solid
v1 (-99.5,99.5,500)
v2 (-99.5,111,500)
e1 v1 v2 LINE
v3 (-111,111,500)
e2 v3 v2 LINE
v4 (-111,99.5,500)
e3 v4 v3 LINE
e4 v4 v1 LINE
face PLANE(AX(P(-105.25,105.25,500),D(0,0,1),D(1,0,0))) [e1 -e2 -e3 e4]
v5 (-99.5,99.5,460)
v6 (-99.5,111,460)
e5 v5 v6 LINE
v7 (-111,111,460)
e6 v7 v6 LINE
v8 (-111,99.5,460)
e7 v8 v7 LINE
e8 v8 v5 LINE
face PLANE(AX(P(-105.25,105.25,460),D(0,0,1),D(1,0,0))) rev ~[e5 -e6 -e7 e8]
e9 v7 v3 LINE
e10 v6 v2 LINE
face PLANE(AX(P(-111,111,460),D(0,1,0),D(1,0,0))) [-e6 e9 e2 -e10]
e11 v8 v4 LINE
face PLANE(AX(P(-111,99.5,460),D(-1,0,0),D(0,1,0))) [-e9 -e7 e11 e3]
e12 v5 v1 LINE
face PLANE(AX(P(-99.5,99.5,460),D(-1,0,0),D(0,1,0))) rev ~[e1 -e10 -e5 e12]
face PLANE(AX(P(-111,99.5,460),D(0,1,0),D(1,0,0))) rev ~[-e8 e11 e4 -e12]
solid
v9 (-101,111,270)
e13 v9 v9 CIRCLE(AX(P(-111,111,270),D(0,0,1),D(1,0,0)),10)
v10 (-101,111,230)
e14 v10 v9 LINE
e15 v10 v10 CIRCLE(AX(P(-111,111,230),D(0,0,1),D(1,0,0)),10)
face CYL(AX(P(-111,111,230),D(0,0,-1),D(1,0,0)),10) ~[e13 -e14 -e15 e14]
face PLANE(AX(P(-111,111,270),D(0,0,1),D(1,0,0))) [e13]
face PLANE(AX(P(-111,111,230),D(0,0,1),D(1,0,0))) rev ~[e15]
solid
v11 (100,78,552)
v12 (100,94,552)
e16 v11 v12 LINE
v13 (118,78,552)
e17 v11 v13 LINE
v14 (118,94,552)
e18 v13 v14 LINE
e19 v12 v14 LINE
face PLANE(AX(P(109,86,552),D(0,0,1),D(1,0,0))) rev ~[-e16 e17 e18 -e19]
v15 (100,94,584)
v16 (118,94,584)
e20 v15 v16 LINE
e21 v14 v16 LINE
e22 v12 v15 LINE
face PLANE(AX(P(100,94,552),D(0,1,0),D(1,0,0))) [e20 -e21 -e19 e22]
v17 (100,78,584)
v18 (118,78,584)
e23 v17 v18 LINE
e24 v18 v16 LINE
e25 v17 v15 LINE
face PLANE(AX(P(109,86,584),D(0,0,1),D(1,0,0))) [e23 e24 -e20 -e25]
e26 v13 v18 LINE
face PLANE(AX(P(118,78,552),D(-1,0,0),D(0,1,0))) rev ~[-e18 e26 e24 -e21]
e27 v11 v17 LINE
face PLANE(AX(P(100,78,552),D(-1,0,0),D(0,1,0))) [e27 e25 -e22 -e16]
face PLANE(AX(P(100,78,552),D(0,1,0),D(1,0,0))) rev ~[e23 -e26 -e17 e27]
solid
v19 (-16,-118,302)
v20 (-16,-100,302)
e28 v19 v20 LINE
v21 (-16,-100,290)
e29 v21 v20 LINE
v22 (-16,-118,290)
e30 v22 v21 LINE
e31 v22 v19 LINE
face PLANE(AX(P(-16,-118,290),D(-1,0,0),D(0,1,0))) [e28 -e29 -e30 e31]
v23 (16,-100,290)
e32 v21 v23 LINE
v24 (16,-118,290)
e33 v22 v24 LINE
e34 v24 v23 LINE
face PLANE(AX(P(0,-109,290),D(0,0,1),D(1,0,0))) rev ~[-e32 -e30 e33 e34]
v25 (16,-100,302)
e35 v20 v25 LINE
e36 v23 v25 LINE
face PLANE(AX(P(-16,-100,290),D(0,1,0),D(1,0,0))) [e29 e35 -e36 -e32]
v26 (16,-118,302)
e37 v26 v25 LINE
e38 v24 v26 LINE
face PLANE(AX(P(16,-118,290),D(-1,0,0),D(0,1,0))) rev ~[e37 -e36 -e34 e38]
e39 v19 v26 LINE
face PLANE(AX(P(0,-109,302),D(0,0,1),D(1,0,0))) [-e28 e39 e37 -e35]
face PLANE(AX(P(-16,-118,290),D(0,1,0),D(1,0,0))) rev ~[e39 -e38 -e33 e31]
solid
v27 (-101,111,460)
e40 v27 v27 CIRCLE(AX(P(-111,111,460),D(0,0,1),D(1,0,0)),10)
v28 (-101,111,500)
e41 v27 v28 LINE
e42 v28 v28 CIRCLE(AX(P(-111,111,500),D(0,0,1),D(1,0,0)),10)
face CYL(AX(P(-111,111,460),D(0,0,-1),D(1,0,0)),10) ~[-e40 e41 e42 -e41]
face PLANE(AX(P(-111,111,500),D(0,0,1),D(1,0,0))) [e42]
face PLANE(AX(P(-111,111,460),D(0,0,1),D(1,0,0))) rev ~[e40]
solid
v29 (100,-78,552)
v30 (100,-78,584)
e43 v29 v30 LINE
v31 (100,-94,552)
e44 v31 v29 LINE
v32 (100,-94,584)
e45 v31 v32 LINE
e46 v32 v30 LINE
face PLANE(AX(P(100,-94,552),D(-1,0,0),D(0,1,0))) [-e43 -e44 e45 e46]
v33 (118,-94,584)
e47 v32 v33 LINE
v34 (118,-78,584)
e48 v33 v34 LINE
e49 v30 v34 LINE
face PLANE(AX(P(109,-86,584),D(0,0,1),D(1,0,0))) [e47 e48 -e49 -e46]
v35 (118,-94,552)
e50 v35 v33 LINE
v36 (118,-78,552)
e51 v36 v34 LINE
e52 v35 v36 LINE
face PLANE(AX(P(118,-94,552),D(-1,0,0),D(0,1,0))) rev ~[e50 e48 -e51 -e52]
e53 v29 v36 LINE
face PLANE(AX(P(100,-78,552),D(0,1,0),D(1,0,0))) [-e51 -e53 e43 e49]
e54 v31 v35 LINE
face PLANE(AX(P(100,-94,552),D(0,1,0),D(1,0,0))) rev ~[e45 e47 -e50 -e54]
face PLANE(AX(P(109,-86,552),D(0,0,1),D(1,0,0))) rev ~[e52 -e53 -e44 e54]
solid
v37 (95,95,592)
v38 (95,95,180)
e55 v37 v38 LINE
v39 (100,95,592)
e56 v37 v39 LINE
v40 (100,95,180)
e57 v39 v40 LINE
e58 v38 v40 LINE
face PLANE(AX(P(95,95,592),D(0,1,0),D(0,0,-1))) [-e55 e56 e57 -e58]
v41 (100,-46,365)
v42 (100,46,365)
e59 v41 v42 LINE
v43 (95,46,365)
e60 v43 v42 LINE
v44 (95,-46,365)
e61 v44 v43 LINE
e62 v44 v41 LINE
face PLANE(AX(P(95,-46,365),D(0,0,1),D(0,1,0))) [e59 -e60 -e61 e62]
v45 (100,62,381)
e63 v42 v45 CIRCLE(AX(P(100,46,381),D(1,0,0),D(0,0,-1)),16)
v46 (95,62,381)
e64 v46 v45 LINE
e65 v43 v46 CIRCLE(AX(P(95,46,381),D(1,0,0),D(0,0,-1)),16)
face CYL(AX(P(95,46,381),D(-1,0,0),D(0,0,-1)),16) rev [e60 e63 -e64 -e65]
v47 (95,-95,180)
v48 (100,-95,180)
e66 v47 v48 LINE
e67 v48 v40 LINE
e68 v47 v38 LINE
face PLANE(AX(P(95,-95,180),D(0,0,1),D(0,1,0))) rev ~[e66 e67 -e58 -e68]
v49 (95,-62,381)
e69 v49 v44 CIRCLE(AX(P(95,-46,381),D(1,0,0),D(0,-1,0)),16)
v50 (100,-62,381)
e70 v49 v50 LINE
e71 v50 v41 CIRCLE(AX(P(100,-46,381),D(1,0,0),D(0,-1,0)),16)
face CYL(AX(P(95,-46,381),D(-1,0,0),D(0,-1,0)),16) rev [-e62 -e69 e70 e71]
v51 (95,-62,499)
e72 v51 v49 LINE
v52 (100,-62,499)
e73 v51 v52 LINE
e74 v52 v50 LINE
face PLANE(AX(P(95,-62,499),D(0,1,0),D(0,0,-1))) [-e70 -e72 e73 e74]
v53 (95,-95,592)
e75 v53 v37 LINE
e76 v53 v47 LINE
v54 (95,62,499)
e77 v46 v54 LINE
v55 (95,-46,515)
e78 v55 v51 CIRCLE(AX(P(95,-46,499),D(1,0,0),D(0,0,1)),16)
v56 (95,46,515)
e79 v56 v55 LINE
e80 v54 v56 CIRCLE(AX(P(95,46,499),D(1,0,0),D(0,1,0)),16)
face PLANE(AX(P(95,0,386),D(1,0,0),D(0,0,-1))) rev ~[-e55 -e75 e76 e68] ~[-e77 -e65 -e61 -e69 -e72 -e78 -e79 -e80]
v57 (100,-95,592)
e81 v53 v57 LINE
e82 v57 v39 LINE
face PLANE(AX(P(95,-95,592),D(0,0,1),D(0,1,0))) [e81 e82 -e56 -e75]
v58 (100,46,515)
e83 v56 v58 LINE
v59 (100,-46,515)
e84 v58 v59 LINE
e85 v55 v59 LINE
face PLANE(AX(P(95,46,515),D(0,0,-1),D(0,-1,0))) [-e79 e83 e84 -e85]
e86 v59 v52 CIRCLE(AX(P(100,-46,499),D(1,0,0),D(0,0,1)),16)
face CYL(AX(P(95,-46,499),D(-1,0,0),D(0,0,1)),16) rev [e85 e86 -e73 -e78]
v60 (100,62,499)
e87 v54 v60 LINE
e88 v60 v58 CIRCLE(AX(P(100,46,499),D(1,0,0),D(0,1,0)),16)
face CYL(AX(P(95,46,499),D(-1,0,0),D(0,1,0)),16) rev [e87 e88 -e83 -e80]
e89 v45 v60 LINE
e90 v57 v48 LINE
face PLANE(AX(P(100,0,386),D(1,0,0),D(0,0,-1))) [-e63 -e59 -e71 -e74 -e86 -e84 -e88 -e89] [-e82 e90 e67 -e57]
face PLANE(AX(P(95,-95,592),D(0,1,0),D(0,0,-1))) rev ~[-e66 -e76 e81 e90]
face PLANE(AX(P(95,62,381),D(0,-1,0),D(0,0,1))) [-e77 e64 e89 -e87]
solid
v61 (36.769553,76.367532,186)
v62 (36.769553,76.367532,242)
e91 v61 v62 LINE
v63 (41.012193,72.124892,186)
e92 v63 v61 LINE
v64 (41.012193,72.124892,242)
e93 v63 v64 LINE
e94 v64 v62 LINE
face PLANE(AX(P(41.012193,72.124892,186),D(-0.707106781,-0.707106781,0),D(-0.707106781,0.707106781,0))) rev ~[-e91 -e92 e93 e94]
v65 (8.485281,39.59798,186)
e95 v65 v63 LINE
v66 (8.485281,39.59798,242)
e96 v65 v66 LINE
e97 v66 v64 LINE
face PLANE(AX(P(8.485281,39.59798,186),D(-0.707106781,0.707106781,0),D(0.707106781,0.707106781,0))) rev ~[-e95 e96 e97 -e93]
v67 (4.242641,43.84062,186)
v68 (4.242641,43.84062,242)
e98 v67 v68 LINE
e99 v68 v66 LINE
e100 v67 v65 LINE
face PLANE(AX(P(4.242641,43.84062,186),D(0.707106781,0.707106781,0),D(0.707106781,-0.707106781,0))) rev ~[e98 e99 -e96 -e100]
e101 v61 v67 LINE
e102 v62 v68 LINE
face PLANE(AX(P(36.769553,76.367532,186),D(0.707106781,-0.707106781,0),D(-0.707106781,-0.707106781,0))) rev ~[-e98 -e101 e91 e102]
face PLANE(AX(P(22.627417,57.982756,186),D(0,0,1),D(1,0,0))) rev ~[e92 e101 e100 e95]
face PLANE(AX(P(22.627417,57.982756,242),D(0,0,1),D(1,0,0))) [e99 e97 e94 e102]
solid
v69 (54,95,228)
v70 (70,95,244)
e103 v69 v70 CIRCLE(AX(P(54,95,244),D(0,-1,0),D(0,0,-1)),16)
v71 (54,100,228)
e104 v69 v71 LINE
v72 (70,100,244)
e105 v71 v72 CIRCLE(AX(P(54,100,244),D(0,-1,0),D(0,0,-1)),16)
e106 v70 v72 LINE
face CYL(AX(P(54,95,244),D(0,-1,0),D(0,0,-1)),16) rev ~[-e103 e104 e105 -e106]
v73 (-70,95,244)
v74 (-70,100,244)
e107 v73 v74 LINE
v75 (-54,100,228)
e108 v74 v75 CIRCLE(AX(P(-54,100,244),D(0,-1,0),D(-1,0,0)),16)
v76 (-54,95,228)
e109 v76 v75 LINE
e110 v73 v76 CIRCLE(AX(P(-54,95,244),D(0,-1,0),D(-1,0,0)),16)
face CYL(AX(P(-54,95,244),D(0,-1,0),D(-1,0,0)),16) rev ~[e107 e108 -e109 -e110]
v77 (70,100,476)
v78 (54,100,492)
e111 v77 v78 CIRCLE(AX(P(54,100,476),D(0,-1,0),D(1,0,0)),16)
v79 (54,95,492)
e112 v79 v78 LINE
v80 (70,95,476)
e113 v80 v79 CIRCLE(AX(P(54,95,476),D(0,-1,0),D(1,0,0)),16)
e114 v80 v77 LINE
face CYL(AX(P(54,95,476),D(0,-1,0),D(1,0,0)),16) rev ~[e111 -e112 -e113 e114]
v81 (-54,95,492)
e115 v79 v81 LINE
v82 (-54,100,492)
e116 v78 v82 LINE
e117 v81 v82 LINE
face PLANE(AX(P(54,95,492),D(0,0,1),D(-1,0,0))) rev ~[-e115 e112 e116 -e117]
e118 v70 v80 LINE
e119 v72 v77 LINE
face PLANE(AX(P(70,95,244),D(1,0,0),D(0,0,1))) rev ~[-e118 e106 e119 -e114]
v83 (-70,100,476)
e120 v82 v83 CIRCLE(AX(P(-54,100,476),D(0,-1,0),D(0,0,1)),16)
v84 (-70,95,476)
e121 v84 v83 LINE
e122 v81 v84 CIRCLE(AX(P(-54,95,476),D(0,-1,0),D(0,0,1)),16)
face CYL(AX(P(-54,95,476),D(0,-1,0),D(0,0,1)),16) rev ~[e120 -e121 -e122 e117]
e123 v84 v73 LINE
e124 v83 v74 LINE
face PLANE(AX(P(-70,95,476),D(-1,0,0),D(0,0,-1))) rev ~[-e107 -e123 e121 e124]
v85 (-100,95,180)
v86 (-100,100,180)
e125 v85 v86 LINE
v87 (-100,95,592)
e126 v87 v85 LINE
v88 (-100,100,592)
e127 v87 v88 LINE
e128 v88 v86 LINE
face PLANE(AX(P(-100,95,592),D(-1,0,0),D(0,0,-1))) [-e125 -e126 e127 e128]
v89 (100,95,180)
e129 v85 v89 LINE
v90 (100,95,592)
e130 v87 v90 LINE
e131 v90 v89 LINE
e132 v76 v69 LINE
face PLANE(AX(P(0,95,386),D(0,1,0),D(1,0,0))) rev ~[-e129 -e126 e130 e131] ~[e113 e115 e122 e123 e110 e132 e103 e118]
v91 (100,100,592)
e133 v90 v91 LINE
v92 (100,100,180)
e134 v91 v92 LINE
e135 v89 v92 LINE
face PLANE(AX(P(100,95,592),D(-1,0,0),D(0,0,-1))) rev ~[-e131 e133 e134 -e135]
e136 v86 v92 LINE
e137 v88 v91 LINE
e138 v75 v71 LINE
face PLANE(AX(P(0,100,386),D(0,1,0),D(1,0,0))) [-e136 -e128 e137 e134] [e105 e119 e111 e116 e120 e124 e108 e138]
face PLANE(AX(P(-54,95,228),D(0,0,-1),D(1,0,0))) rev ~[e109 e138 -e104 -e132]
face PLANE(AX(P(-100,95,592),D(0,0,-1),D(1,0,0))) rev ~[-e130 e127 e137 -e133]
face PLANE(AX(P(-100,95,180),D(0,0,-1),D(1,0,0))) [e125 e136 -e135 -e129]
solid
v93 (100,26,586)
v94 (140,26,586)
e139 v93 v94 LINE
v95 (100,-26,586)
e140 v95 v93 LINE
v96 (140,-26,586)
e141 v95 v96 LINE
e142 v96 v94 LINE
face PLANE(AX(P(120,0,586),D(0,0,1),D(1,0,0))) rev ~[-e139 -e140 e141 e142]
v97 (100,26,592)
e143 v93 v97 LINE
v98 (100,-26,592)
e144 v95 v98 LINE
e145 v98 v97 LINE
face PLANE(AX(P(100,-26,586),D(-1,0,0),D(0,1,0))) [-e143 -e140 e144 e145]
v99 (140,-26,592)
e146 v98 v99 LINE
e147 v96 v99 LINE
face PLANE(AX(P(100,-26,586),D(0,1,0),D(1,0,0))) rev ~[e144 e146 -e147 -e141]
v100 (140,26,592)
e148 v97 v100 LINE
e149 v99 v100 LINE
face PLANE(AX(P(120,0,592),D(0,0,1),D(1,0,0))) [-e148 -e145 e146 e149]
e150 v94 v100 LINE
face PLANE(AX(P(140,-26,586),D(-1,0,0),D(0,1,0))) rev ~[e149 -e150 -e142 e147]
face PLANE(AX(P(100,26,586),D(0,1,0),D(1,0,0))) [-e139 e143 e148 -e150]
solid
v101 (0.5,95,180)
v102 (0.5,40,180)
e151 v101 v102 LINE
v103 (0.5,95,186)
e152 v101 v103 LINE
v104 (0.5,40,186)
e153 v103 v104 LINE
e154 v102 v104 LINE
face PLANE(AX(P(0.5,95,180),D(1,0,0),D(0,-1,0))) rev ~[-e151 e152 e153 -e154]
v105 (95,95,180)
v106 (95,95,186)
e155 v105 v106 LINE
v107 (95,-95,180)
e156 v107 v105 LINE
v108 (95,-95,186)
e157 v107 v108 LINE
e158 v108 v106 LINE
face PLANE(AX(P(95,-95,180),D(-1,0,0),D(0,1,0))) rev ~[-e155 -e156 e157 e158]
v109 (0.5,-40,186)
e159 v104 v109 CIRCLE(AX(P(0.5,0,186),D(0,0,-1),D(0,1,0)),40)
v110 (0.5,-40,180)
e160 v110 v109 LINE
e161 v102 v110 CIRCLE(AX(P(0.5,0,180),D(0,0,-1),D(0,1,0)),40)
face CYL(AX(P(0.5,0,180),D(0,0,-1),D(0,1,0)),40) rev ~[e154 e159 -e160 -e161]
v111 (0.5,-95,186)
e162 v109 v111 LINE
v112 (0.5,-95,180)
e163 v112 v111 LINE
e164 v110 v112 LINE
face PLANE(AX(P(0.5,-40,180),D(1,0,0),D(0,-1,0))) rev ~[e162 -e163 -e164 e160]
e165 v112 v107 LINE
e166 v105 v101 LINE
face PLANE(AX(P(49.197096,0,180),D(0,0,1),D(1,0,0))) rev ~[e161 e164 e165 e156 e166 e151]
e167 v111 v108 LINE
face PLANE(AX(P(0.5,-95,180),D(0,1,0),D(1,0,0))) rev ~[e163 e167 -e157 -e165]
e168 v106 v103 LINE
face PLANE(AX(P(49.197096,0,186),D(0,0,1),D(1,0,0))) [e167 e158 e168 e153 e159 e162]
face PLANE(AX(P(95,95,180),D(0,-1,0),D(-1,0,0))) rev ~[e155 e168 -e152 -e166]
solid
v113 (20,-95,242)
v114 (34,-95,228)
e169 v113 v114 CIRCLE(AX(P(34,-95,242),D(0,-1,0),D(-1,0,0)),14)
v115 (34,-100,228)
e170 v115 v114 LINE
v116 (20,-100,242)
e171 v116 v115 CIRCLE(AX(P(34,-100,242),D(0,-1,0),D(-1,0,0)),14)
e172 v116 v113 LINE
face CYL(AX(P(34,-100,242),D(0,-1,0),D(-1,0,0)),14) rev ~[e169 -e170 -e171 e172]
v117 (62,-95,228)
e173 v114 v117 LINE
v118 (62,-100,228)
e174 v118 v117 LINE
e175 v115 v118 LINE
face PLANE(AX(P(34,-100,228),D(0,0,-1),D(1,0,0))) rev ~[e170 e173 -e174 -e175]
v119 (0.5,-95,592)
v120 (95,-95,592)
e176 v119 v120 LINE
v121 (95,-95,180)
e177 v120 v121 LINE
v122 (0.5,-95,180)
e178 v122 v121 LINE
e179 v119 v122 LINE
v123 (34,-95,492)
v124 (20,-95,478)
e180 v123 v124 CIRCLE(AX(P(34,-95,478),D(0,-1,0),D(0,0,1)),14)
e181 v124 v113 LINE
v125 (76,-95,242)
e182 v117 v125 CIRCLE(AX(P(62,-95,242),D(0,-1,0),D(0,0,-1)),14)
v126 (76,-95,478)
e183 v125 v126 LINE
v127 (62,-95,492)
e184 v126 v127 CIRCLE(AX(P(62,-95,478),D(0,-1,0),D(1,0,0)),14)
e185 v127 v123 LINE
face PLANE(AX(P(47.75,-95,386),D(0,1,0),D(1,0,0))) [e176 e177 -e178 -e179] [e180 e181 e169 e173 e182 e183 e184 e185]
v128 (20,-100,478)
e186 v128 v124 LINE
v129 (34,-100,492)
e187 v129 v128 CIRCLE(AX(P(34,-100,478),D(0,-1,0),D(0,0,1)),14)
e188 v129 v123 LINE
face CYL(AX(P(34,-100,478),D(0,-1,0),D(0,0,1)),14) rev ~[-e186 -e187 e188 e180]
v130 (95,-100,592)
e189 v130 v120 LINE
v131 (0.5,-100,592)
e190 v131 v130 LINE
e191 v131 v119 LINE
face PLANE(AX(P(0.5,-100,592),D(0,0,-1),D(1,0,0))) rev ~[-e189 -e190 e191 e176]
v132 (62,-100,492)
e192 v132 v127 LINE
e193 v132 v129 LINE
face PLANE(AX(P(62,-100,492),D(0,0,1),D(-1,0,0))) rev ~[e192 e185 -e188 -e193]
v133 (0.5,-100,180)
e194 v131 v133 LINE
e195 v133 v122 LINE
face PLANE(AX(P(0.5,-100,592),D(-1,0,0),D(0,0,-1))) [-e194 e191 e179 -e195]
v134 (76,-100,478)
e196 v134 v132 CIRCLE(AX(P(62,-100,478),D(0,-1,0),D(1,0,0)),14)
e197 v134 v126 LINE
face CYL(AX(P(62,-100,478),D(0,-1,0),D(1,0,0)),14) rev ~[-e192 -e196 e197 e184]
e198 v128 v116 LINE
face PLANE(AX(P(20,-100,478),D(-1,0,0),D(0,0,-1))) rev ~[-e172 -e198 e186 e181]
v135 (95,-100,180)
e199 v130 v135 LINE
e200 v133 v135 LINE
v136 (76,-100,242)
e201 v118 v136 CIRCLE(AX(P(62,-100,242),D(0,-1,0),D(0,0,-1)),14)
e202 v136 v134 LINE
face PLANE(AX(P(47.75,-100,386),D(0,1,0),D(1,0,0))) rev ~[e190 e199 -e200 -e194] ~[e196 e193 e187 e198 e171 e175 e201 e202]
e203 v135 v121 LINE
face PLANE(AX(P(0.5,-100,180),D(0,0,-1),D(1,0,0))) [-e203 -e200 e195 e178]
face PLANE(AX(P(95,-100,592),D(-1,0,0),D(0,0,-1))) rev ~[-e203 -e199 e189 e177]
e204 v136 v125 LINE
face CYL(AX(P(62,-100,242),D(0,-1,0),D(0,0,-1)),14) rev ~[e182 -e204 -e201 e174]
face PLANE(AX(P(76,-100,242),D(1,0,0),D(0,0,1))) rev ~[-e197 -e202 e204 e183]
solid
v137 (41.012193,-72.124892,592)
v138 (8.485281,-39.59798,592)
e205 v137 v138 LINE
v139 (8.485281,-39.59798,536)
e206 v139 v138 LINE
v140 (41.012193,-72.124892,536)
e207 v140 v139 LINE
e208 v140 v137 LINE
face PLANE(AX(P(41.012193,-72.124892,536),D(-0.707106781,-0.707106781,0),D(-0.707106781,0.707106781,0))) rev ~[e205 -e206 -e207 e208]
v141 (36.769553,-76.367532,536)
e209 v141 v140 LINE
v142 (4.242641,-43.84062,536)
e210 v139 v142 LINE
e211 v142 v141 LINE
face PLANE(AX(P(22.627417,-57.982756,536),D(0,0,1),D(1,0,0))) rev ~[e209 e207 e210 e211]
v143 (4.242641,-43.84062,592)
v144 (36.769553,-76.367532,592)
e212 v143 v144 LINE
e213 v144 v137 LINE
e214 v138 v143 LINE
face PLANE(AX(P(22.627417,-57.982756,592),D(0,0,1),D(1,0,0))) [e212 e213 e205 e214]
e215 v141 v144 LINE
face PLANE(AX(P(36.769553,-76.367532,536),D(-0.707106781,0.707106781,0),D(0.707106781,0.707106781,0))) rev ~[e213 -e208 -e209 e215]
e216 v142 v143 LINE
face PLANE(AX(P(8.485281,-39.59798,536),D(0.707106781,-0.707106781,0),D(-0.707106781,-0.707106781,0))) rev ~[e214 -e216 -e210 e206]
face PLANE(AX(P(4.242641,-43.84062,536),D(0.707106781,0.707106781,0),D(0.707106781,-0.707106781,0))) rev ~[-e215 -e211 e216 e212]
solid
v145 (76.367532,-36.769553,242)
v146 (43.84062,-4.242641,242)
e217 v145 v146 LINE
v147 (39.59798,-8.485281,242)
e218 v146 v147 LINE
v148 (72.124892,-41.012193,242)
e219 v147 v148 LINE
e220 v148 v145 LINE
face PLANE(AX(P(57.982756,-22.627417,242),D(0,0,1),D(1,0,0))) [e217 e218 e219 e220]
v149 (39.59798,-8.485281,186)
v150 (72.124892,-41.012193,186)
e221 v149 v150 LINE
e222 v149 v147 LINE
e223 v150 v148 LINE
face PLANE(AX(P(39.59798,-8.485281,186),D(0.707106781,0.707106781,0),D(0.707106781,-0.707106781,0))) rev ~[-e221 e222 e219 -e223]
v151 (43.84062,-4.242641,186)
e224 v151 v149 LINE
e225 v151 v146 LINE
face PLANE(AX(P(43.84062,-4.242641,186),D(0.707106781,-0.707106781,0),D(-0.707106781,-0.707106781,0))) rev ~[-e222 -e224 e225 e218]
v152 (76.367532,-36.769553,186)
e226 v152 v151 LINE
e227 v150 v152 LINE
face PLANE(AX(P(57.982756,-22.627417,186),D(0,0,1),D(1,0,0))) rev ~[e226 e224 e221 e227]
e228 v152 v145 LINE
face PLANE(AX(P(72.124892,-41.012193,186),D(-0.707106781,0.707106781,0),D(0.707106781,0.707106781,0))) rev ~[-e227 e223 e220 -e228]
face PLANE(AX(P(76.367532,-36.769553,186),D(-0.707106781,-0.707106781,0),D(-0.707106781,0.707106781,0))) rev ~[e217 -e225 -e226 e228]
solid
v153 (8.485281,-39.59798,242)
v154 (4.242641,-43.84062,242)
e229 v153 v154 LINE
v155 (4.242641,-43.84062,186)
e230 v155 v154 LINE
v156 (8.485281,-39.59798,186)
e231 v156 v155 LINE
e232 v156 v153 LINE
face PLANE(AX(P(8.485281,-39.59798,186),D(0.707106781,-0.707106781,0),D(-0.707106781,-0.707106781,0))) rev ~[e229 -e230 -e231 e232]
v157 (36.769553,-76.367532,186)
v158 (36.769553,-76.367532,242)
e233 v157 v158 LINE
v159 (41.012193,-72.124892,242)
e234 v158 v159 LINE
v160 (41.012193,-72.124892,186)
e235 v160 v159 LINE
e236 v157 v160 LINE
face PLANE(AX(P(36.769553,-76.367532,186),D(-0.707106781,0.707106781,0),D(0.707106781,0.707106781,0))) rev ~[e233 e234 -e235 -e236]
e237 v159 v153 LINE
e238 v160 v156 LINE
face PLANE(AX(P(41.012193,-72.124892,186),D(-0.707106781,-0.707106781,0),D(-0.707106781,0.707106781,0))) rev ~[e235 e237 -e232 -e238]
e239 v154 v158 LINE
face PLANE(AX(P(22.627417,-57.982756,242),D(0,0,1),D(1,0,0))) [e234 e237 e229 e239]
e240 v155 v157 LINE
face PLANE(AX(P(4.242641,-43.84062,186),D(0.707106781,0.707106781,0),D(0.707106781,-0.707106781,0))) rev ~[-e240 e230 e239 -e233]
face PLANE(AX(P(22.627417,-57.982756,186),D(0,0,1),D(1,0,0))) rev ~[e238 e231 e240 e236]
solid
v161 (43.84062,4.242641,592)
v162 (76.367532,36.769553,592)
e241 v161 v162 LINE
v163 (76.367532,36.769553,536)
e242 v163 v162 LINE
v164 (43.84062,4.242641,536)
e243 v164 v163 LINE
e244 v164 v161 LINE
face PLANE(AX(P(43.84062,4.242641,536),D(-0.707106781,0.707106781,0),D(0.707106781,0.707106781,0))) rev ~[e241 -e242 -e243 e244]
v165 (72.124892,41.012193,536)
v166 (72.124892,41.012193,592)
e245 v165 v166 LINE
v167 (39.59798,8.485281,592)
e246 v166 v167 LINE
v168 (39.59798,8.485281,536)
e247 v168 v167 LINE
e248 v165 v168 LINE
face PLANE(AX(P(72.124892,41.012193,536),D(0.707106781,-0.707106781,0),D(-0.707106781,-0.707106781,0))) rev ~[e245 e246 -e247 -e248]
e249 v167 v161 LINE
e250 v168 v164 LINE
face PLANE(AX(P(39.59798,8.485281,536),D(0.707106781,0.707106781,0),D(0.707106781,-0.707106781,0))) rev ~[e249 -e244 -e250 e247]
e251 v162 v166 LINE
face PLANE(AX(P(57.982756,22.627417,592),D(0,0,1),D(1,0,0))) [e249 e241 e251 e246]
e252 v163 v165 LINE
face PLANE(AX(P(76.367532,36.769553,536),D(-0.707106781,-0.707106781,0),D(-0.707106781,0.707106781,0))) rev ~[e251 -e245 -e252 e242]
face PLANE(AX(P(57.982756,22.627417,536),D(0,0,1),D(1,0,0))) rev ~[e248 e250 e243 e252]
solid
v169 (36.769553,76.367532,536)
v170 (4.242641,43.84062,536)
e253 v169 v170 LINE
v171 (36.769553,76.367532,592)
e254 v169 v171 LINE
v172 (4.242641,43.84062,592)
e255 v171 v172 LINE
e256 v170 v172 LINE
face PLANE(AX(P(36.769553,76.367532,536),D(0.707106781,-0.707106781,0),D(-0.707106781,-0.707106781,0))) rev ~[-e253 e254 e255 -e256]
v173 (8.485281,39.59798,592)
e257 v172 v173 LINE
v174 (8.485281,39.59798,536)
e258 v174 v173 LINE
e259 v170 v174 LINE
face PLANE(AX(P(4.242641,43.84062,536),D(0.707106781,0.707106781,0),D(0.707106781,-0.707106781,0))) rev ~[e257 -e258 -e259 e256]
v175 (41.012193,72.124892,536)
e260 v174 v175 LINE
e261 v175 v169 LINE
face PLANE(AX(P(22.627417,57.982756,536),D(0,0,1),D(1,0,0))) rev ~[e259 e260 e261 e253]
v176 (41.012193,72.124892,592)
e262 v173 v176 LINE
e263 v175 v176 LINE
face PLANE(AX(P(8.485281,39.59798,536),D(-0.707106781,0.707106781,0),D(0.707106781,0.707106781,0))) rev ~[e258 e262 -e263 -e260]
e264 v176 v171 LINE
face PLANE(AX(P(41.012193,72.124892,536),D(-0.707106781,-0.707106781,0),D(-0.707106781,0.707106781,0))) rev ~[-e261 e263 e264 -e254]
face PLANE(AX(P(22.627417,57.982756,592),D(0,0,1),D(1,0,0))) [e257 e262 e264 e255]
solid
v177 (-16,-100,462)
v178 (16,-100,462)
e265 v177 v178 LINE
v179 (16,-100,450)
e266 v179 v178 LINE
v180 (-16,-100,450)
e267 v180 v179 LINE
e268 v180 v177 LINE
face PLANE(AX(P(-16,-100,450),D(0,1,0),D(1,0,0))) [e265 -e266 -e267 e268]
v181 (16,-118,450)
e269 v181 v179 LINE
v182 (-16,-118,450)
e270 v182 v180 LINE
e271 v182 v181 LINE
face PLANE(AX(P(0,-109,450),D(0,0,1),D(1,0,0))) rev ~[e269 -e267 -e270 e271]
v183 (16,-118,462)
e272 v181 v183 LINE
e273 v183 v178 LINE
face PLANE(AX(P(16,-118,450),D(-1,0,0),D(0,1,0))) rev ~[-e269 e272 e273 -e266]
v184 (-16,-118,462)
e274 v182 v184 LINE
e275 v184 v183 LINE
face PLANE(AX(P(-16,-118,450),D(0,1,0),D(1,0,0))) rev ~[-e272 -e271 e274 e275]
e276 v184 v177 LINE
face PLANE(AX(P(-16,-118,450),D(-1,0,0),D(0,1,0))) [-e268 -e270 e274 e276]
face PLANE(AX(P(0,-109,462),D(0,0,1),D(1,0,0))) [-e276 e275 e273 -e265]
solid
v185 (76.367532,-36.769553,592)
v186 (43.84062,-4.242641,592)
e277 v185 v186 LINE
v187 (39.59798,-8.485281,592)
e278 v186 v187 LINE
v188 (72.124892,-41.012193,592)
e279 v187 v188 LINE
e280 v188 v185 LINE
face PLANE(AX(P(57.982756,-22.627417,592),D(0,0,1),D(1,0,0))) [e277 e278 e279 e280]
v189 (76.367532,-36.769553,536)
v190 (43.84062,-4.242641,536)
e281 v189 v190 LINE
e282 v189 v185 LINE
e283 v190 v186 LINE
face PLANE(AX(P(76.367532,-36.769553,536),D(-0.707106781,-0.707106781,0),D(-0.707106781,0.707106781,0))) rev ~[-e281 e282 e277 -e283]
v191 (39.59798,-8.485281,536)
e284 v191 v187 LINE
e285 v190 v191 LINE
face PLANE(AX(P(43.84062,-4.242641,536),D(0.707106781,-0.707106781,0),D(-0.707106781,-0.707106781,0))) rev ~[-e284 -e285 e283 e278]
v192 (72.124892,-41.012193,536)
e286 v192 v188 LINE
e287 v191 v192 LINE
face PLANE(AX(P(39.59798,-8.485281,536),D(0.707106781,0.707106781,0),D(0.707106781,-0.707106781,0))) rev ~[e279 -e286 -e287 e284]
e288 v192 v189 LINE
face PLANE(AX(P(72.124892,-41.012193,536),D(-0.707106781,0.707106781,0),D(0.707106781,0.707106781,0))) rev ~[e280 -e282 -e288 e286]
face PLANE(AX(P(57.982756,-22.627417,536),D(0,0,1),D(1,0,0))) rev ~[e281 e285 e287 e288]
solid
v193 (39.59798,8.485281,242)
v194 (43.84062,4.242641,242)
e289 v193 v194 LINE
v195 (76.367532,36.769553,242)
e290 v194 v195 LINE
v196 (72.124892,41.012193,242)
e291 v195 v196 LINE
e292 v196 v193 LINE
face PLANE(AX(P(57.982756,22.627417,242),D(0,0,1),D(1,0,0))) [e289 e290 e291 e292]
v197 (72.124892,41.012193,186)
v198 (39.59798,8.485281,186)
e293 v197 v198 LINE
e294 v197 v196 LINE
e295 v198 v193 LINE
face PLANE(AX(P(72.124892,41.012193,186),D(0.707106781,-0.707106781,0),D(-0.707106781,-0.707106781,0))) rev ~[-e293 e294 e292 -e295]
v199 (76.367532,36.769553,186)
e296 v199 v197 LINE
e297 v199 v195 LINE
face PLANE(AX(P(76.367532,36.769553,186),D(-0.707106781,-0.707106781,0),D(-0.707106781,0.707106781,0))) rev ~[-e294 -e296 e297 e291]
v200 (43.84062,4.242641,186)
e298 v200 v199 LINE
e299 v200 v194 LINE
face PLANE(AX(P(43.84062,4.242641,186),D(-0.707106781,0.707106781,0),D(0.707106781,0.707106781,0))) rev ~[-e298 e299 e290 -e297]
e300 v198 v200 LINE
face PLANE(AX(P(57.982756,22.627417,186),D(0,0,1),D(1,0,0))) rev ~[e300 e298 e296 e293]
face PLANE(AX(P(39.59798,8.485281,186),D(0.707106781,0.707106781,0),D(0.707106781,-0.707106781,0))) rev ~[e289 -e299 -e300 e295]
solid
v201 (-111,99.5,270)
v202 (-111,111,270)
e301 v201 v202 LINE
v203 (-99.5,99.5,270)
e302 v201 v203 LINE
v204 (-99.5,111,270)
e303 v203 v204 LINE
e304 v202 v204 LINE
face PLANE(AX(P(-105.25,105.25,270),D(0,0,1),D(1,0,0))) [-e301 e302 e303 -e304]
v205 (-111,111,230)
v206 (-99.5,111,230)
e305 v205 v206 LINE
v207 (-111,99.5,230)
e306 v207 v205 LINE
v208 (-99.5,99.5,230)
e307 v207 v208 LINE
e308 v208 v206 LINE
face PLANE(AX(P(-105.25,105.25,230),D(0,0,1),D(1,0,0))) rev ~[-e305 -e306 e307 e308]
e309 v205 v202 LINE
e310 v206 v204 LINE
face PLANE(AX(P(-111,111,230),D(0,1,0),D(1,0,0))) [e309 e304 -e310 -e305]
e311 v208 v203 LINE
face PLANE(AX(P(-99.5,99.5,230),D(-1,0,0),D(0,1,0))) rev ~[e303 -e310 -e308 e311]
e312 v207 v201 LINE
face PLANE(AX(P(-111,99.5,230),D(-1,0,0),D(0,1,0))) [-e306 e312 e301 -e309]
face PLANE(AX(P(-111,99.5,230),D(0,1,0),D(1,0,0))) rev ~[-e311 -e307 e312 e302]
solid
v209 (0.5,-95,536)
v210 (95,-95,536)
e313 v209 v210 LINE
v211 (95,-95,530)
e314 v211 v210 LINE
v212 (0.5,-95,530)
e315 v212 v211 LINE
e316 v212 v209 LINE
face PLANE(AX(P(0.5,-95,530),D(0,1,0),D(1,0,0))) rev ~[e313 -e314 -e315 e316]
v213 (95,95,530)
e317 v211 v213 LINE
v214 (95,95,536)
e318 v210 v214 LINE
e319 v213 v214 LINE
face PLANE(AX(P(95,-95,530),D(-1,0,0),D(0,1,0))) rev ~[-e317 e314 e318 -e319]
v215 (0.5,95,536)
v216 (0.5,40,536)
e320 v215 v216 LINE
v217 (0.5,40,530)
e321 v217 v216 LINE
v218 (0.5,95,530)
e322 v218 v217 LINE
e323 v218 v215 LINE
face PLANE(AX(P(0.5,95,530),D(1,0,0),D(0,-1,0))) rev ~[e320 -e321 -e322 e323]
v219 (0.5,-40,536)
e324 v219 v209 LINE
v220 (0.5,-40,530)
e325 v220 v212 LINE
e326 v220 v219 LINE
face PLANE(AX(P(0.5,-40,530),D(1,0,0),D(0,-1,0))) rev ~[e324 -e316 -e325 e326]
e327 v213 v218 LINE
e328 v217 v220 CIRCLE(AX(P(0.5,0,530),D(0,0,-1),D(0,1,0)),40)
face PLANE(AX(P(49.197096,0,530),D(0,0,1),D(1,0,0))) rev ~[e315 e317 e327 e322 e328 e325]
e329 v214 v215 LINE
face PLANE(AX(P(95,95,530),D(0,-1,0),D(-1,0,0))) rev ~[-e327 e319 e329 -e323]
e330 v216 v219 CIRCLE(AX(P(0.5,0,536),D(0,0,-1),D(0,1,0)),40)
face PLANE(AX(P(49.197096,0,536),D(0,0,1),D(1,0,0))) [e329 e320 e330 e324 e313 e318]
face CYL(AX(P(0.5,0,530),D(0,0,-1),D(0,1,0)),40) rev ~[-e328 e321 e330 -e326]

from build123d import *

# Parameters (mm, degrees)
EXTRUDE_START       = 180
EXTRUDE_1_DEPTH     = 6
EXTRUDE_START_2     = 186
EXTRUDE_2_DEPTH     = 56
EXTRUDE_3_DEPTH     = 56
EXTRUDE_4_DEPTH     = 56
EXTRUDE_5_DEPTH     = 56
EXTRUDE_START_3     = 530
EXTRUDE_6_DEPTH     = 6
EXTRUDE_START_4     = 536
EXTRUDE_7_DEPTH     = 56
EXTRUDE_8_DEPTH     = 56
EXTRUDE_9_DEPTH     = 56
EXTRUDE_10_DEPTH    = 56
EXTRUDE_START_5     = 95
EXTRUDE_SKETCH_11_W = 412
EXTRUDE_SKETCH_11_H = 190
EXTRUDE_11_DEPTH    = 5
EXTRUDE_SKETCH_12_W = 200
EXTRUDE_SKETCH_12_H = 412
EXTRUDE_12_DEPTH    = 5
EXTRUDE_START_6     = -100
EXTRUDE_SKETCH_13_W = 94.5
EXTRUDE_SKETCH_13_H = 412
EXTRUDE_13_DEPTH    = 5
EXTRUDE_START_7     = 230
EXTRUDE_SKETCH_14_R = 10
EXTRUDE_14_DEPTH    = 40
EXTRUDE_SKETCH_15_W = 11.5
EXTRUDE_SKETCH_15_H = 11.5
EXTRUDE_15_DEPTH    = 40
EXTRUDE_START_8     = 460
EXTRUDE_SKETCH_16_R = 10
EXTRUDE_16_DEPTH    = 40
EXTRUDE_SKETCH_17_W = 11.5
EXTRUDE_SKETCH_17_H = 11.5
EXTRUDE_17_DEPTH    = 40
EXTRUDE_START_9     = 290
EXTRUDE_SKETCH_18_W = 32
EXTRUDE_SKETCH_18_H = 18
EXTRUDE_18_DEPTH    = 12
EXTRUDE_START_10    = 450
EXTRUDE_SKETCH_19_W = 32
EXTRUDE_SKETCH_19_H = 18
EXTRUDE_19_DEPTH    = 12
EXTRUDE_START_11    = 586
EXTRUDE_SKETCH_20_W = 40
EXTRUDE_SKETCH_20_H = 52
EXTRUDE_20_DEPTH    = 6
EXTRUDE_START_12    = 552
EXTRUDE_SKETCH_21_W = 18
EXTRUDE_SKETCH_21_H = 16
EXTRUDE_21_DEPTH    = 32
EXTRUDE_SKETCH_22_W = 18
EXTRUDE_SKETCH_22_H = 16
EXTRUDE_22_DEPTH    = 32


with BuildPart() as part:
    # Extrude sketch 1 → Extrude 1 (new body)
    with BuildSketch(Plane.XY.offset(EXTRUDE_START)):
        with BuildLine():
            Line((95, -95), (95, 95))
            Line((95, 95), (0.5, 95))
            Line((0.5, 95), (0.5, 40))
            ThreePointArc((0.5, 40), (40.5, 0), (0.5, -40))
            Line((0.5, -40), (0.5, -95))
            Line((0.5, -95), (95, -95))
        make_face()
    extrude(amount=EXTRUDE_1_DEPTH)


with BuildPart() as body_2:
    # Extrude sketch 2 → Extrude 2 (new body)
    with BuildSketch(Plane.XY.offset(EXTRUDE_START_2)):
        Polygon((8.485281374, 39.597979746), (41.012193309, 72.124891681), (36.769552622, 76.367532368), (4.242640687, 43.840620434), align=None)
    extrude(amount=EXTRUDE_2_DEPTH)


with BuildPart() as body_3:
    # Extrude sketch 3 → Extrude 3 (new body)
    with BuildSketch(Plane.XY.offset(EXTRUDE_START_2)):
        Polygon((72.124891681, 41.012193309), (39.597979746, 8.485281374), (43.840620434, 4.242640687), (76.367532368, 36.769552622), align=None)
    extrude(amount=EXTRUDE_3_DEPTH)


with BuildPart() as body_4:
    # Extrude sketch 4 → Extrude 4 (new body)
    with BuildSketch(Plane.XY.offset(EXTRUDE_START_2)):
        Polygon((39.597979746, -8.485281374), (72.124891681, -41.012193309), (76.367532368, -36.769552622), (43.840620434, -4.242640687), align=None)
    extrude(amount=EXTRUDE_4_DEPTH)


with BuildPart() as body_5:
    # Extrude sketch 5 → Extrude 5 (new body)
    with BuildSketch(Plane.XY.offset(EXTRUDE_START_2)):
        Polygon((41.012193309, -72.124891681), (8.485281374, -39.597979746), (4.242640687, -43.840620434), (36.769552622, -76.367532368), align=None)
    extrude(amount=EXTRUDE_5_DEPTH)


with BuildPart() as body_6:
    # Extrude sketch 6 → Extrude 6 (new body)
    with BuildSketch(Plane.XY.offset(EXTRUDE_START_3)):
        with BuildLine():
            Line((95, -95), (95, 95))
            Line((95, 95), (0.5, 95))
            Line((0.5, 95), (0.5, 40))
            ThreePointArc((0.5, 40), (40.5, 0), (0.5, -40))
            Line((0.5, -40), (0.5, -95))
            Line((0.5, -95), (95, -95))
        make_face()
    extrude(amount=EXTRUDE_6_DEPTH)


with BuildPart() as body_7:
    # Extrude sketch 7 → Extrude 7 (new body)
    with BuildSketch(Plane.XY.offset(EXTRUDE_START_4)):
        Polygon((8.485281374, 39.597979746), (41.012193309, 72.124891681), (36.769552622, 76.367532368), (4.242640687, 43.840620434), align=None)
    extrude(amount=EXTRUDE_7_DEPTH)


with BuildPart() as body_8:
    # Extrude sketch 8 → Extrude 8 (new body)
    with BuildSketch(Plane.XY.offset(EXTRUDE_START_4)):
        Polygon((72.124891681, 41.012193309), (39.597979746, 8.485281374), (43.840620434, 4.242640687), (76.367532368, 36.769552622), align=None)
    extrude(amount=EXTRUDE_8_DEPTH)


with BuildPart() as body_9:
    # Extrude sketch 9 → Extrude 9 (new body)
    with BuildSketch(Plane.XY.offset(EXTRUDE_START_4)):
        Polygon((39.597979746, -8.485281374), (72.124891681, -41.012193309), (76.367532368, -36.769552622), (43.840620434, -4.242640687), align=None)
    extrude(amount=EXTRUDE_9_DEPTH)


with BuildPart() as body_10:
    # Extrude sketch 10 → Extrude 10 (new body)
    with BuildSketch(Plane.XY.offset(EXTRUDE_START_4)):
        Polygon((41.012193309, -72.124891681), (8.485281374, -39.597979746), (4.242640687, -43.840620434), (36.769552622, -76.367532368), align=None)
    extrude(amount=EXTRUDE_10_DEPTH)


with BuildPart() as body_11:
    # Extrude sketch 11 → Extrude 11 (new body)
    with BuildSketch(Plane(origin=(0, 0, 0), x_dir=(0, 0, -1), z_dir=(1, 0, 0)).offset(EXTRUDE_START_5)):
        with Locations((-386, 0)):
            Rectangle(EXTRUDE_SKETCH_11_W, EXTRUDE_SKETCH_11_H)
        with BuildLine():
            Line((-381, 62), (-499, 62))
            ThreePointArc((-499, 62), (-510.313708499, 57.313708499), (-515, 46))
            Line((-515, 46), (-515, -46))
            ThreePointArc((-515, -46), (-510.313708499, -57.313708499), (-499, -62))
            Line((-499, -62), (-381, -62))
            ThreePointArc((-381, -62), (-369.686291501, -57.313708499), (-365, -46))
            Line((-365, -46), (-365, 46))
            ThreePointArc((-365, 46), (-369.686291501, 57.313708499), (-381, 62))
        make_face(mode=Mode.SUBTRACT)
    extrude(amount=EXTRUDE_11_DEPTH)


with BuildPart() as body_12:
    # Extrude sketch 12 → Extrude 12 (new body)
    with BuildSketch(Plane(origin=(0, 0, 0), x_dir=(1, 0, 0), z_dir=(0, 1, 0)).offset(EXTRUDE_START_5)):
        with Locations((0, -386)):
            Rectangle(EXTRUDE_SKETCH_12_W, EXTRUDE_SKETCH_12_H)
        with BuildLine():
            Line((70, -244), (70, -476))
            ThreePointArc((70, -476), (65.313708499, -487.313708499), (54, -492))
            Line((54, -492), (-54, -492))
            ThreePointArc((-54, -492), (-65.313708499, -487.313708499), (-70, -476))
            Line((-70, -476), (-70, -244))
            ThreePointArc((-70, -244), (-65.313708499, -232.686291501), (-54, -228))
            Line((-54, -228), (54, -228))
            ThreePointArc((54, -228), (65.313708499, -232.686291501), (70, -244))
        make_face(mode=Mode.SUBTRACT)
    extrude(amount=EXTRUDE_12_DEPTH)


with BuildPart() as body_13:
    # Extrude sketch 13 → Extrude 13 (new body)
    with BuildSketch(Plane(origin=(0, 0, 0), x_dir=(1, 0, 0), z_dir=(0, 1, 0)).offset(EXTRUDE_START_6)):
        with Locations((47.75, -386)):
            Rectangle(EXTRUDE_SKETCH_13_W, EXTRUDE_SKETCH_13_H)
        with BuildLine():
            Line((76, -242), (76, -478))
            ThreePointArc((76, -478), (71.899494937, -487.899494937), (62, -492))
            Line((62, -492), (34, -492))
            ThreePointArc((34, -492), (24.100505063, -487.899494937), (20, -478))
            Line((20, -478), (20, -242))
            ThreePointArc((20, -242), (24.100505063, -232.100505063), (34, -228))
            Line((34, -228), (62, -228))
            ThreePointArc((62, -228), (71.899494937, -232.100505063), (76, -242))
        make_face(mode=Mode.SUBTRACT)
    extrude(amount=EXTRUDE_13_DEPTH)


with BuildPart() as body_14:
    # Extrude sketch 14 → Extrude 14 (new body)
    with BuildSketch(Plane.XY.offset(EXTRUDE_START_7)):
        with Locations((-111, 111)):
            Circle(EXTRUDE_SKETCH_14_R)
    extrude(amount=EXTRUDE_14_DEPTH)


with BuildPart() as body_15:
    # Extrude sketch 15 → Extrude 15 (new body)
    with BuildSketch(Plane.XY.offset(EXTRUDE_START_7)):
        with Locations((-105.25, 105.25)):
            Rectangle(EXTRUDE_SKETCH_15_W, EXTRUDE_SKETCH_15_H)
    extrude(amount=EXTRUDE_15_DEPTH)


with BuildPart() as body_16:
    # Extrude sketch 16 → Extrude 16 (new body)
    with BuildSketch(Plane.XY.offset(EXTRUDE_START_8)):
        with Locations((-111, 111)):
            Circle(EXTRUDE_SKETCH_16_R)
    extrude(amount=EXTRUDE_16_DEPTH)


with BuildPart() as body_17:
    # Extrude sketch 17 → Extrude 17 (new body)
    with BuildSketch(Plane.XY.offset(EXTRUDE_START_8)):
        with Locations((-105.25, 105.25)):
            Rectangle(EXTRUDE_SKETCH_17_W, EXTRUDE_SKETCH_17_H)
    extrude(amount=EXTRUDE_17_DEPTH)


with BuildPart() as body_18:
    # Extrude sketch 18 → Extrude 18 (new body)
    with BuildSketch(Plane.XY.offset(EXTRUDE_START_9)):
        with Locations((0, -109)):
            Rectangle(EXTRUDE_SKETCH_18_W, EXTRUDE_SKETCH_18_H)
    extrude(amount=EXTRUDE_18_DEPTH)


with BuildPart() as body_19:
    # Extrude sketch 19 → Extrude 19 (new body)
    with BuildSketch(Plane.XY.offset(EXTRUDE_START_10)):
        with Locations((0, -109)):
            Rectangle(EXTRUDE_SKETCH_19_W, EXTRUDE_SKETCH_19_H)
    extrude(amount=EXTRUDE_19_DEPTH)


with BuildPart() as body_20:
    # Extrude sketch 20 → Extrude 20 (new body)
    with BuildSketch(Plane.XY.offset(EXTRUDE_START_11)):
        with Locations((120, 0)):
            Rectangle(EXTRUDE_SKETCH_20_W, EXTRUDE_SKETCH_20_H)
    extrude(amount=EXTRUDE_20_DEPTH)


with BuildPart() as body_21:
    # Extrude sketch 21 → Extrude 21 (new body)
    with BuildSketch(Plane.XY.offset(EXTRUDE_START_12)):
        with Locations((109, 86)):
            Rectangle(EXTRUDE_SKETCH_21_W, EXTRUDE_SKETCH_21_H)
    extrude(amount=EXTRUDE_21_DEPTH)


with BuildPart() as body_22:
    # Extrude sketch 22 → Extrude 22 (new body)
    with BuildSketch(Plane.XY.offset(EXTRUDE_START_12)):
        with Locations((109, -86)):
            Rectangle(EXTRUDE_SKETCH_22_W, EXTRUDE_SKETCH_22_H)
    extrude(amount=EXTRUDE_22_DEPTH)


solid = Compound([part.part, body_2.part, body_3.part, body_4.part, body_5.part, body_6.part, body_7.part, body_8.part, body_9.part, body_10.part, body_11.part, body_12.part, body_13.part, body_14.part, body_15.part, body_16.part, body_17.part, body_18.part, body_19.part, body_20.part, body_21.part, body_22.part])
